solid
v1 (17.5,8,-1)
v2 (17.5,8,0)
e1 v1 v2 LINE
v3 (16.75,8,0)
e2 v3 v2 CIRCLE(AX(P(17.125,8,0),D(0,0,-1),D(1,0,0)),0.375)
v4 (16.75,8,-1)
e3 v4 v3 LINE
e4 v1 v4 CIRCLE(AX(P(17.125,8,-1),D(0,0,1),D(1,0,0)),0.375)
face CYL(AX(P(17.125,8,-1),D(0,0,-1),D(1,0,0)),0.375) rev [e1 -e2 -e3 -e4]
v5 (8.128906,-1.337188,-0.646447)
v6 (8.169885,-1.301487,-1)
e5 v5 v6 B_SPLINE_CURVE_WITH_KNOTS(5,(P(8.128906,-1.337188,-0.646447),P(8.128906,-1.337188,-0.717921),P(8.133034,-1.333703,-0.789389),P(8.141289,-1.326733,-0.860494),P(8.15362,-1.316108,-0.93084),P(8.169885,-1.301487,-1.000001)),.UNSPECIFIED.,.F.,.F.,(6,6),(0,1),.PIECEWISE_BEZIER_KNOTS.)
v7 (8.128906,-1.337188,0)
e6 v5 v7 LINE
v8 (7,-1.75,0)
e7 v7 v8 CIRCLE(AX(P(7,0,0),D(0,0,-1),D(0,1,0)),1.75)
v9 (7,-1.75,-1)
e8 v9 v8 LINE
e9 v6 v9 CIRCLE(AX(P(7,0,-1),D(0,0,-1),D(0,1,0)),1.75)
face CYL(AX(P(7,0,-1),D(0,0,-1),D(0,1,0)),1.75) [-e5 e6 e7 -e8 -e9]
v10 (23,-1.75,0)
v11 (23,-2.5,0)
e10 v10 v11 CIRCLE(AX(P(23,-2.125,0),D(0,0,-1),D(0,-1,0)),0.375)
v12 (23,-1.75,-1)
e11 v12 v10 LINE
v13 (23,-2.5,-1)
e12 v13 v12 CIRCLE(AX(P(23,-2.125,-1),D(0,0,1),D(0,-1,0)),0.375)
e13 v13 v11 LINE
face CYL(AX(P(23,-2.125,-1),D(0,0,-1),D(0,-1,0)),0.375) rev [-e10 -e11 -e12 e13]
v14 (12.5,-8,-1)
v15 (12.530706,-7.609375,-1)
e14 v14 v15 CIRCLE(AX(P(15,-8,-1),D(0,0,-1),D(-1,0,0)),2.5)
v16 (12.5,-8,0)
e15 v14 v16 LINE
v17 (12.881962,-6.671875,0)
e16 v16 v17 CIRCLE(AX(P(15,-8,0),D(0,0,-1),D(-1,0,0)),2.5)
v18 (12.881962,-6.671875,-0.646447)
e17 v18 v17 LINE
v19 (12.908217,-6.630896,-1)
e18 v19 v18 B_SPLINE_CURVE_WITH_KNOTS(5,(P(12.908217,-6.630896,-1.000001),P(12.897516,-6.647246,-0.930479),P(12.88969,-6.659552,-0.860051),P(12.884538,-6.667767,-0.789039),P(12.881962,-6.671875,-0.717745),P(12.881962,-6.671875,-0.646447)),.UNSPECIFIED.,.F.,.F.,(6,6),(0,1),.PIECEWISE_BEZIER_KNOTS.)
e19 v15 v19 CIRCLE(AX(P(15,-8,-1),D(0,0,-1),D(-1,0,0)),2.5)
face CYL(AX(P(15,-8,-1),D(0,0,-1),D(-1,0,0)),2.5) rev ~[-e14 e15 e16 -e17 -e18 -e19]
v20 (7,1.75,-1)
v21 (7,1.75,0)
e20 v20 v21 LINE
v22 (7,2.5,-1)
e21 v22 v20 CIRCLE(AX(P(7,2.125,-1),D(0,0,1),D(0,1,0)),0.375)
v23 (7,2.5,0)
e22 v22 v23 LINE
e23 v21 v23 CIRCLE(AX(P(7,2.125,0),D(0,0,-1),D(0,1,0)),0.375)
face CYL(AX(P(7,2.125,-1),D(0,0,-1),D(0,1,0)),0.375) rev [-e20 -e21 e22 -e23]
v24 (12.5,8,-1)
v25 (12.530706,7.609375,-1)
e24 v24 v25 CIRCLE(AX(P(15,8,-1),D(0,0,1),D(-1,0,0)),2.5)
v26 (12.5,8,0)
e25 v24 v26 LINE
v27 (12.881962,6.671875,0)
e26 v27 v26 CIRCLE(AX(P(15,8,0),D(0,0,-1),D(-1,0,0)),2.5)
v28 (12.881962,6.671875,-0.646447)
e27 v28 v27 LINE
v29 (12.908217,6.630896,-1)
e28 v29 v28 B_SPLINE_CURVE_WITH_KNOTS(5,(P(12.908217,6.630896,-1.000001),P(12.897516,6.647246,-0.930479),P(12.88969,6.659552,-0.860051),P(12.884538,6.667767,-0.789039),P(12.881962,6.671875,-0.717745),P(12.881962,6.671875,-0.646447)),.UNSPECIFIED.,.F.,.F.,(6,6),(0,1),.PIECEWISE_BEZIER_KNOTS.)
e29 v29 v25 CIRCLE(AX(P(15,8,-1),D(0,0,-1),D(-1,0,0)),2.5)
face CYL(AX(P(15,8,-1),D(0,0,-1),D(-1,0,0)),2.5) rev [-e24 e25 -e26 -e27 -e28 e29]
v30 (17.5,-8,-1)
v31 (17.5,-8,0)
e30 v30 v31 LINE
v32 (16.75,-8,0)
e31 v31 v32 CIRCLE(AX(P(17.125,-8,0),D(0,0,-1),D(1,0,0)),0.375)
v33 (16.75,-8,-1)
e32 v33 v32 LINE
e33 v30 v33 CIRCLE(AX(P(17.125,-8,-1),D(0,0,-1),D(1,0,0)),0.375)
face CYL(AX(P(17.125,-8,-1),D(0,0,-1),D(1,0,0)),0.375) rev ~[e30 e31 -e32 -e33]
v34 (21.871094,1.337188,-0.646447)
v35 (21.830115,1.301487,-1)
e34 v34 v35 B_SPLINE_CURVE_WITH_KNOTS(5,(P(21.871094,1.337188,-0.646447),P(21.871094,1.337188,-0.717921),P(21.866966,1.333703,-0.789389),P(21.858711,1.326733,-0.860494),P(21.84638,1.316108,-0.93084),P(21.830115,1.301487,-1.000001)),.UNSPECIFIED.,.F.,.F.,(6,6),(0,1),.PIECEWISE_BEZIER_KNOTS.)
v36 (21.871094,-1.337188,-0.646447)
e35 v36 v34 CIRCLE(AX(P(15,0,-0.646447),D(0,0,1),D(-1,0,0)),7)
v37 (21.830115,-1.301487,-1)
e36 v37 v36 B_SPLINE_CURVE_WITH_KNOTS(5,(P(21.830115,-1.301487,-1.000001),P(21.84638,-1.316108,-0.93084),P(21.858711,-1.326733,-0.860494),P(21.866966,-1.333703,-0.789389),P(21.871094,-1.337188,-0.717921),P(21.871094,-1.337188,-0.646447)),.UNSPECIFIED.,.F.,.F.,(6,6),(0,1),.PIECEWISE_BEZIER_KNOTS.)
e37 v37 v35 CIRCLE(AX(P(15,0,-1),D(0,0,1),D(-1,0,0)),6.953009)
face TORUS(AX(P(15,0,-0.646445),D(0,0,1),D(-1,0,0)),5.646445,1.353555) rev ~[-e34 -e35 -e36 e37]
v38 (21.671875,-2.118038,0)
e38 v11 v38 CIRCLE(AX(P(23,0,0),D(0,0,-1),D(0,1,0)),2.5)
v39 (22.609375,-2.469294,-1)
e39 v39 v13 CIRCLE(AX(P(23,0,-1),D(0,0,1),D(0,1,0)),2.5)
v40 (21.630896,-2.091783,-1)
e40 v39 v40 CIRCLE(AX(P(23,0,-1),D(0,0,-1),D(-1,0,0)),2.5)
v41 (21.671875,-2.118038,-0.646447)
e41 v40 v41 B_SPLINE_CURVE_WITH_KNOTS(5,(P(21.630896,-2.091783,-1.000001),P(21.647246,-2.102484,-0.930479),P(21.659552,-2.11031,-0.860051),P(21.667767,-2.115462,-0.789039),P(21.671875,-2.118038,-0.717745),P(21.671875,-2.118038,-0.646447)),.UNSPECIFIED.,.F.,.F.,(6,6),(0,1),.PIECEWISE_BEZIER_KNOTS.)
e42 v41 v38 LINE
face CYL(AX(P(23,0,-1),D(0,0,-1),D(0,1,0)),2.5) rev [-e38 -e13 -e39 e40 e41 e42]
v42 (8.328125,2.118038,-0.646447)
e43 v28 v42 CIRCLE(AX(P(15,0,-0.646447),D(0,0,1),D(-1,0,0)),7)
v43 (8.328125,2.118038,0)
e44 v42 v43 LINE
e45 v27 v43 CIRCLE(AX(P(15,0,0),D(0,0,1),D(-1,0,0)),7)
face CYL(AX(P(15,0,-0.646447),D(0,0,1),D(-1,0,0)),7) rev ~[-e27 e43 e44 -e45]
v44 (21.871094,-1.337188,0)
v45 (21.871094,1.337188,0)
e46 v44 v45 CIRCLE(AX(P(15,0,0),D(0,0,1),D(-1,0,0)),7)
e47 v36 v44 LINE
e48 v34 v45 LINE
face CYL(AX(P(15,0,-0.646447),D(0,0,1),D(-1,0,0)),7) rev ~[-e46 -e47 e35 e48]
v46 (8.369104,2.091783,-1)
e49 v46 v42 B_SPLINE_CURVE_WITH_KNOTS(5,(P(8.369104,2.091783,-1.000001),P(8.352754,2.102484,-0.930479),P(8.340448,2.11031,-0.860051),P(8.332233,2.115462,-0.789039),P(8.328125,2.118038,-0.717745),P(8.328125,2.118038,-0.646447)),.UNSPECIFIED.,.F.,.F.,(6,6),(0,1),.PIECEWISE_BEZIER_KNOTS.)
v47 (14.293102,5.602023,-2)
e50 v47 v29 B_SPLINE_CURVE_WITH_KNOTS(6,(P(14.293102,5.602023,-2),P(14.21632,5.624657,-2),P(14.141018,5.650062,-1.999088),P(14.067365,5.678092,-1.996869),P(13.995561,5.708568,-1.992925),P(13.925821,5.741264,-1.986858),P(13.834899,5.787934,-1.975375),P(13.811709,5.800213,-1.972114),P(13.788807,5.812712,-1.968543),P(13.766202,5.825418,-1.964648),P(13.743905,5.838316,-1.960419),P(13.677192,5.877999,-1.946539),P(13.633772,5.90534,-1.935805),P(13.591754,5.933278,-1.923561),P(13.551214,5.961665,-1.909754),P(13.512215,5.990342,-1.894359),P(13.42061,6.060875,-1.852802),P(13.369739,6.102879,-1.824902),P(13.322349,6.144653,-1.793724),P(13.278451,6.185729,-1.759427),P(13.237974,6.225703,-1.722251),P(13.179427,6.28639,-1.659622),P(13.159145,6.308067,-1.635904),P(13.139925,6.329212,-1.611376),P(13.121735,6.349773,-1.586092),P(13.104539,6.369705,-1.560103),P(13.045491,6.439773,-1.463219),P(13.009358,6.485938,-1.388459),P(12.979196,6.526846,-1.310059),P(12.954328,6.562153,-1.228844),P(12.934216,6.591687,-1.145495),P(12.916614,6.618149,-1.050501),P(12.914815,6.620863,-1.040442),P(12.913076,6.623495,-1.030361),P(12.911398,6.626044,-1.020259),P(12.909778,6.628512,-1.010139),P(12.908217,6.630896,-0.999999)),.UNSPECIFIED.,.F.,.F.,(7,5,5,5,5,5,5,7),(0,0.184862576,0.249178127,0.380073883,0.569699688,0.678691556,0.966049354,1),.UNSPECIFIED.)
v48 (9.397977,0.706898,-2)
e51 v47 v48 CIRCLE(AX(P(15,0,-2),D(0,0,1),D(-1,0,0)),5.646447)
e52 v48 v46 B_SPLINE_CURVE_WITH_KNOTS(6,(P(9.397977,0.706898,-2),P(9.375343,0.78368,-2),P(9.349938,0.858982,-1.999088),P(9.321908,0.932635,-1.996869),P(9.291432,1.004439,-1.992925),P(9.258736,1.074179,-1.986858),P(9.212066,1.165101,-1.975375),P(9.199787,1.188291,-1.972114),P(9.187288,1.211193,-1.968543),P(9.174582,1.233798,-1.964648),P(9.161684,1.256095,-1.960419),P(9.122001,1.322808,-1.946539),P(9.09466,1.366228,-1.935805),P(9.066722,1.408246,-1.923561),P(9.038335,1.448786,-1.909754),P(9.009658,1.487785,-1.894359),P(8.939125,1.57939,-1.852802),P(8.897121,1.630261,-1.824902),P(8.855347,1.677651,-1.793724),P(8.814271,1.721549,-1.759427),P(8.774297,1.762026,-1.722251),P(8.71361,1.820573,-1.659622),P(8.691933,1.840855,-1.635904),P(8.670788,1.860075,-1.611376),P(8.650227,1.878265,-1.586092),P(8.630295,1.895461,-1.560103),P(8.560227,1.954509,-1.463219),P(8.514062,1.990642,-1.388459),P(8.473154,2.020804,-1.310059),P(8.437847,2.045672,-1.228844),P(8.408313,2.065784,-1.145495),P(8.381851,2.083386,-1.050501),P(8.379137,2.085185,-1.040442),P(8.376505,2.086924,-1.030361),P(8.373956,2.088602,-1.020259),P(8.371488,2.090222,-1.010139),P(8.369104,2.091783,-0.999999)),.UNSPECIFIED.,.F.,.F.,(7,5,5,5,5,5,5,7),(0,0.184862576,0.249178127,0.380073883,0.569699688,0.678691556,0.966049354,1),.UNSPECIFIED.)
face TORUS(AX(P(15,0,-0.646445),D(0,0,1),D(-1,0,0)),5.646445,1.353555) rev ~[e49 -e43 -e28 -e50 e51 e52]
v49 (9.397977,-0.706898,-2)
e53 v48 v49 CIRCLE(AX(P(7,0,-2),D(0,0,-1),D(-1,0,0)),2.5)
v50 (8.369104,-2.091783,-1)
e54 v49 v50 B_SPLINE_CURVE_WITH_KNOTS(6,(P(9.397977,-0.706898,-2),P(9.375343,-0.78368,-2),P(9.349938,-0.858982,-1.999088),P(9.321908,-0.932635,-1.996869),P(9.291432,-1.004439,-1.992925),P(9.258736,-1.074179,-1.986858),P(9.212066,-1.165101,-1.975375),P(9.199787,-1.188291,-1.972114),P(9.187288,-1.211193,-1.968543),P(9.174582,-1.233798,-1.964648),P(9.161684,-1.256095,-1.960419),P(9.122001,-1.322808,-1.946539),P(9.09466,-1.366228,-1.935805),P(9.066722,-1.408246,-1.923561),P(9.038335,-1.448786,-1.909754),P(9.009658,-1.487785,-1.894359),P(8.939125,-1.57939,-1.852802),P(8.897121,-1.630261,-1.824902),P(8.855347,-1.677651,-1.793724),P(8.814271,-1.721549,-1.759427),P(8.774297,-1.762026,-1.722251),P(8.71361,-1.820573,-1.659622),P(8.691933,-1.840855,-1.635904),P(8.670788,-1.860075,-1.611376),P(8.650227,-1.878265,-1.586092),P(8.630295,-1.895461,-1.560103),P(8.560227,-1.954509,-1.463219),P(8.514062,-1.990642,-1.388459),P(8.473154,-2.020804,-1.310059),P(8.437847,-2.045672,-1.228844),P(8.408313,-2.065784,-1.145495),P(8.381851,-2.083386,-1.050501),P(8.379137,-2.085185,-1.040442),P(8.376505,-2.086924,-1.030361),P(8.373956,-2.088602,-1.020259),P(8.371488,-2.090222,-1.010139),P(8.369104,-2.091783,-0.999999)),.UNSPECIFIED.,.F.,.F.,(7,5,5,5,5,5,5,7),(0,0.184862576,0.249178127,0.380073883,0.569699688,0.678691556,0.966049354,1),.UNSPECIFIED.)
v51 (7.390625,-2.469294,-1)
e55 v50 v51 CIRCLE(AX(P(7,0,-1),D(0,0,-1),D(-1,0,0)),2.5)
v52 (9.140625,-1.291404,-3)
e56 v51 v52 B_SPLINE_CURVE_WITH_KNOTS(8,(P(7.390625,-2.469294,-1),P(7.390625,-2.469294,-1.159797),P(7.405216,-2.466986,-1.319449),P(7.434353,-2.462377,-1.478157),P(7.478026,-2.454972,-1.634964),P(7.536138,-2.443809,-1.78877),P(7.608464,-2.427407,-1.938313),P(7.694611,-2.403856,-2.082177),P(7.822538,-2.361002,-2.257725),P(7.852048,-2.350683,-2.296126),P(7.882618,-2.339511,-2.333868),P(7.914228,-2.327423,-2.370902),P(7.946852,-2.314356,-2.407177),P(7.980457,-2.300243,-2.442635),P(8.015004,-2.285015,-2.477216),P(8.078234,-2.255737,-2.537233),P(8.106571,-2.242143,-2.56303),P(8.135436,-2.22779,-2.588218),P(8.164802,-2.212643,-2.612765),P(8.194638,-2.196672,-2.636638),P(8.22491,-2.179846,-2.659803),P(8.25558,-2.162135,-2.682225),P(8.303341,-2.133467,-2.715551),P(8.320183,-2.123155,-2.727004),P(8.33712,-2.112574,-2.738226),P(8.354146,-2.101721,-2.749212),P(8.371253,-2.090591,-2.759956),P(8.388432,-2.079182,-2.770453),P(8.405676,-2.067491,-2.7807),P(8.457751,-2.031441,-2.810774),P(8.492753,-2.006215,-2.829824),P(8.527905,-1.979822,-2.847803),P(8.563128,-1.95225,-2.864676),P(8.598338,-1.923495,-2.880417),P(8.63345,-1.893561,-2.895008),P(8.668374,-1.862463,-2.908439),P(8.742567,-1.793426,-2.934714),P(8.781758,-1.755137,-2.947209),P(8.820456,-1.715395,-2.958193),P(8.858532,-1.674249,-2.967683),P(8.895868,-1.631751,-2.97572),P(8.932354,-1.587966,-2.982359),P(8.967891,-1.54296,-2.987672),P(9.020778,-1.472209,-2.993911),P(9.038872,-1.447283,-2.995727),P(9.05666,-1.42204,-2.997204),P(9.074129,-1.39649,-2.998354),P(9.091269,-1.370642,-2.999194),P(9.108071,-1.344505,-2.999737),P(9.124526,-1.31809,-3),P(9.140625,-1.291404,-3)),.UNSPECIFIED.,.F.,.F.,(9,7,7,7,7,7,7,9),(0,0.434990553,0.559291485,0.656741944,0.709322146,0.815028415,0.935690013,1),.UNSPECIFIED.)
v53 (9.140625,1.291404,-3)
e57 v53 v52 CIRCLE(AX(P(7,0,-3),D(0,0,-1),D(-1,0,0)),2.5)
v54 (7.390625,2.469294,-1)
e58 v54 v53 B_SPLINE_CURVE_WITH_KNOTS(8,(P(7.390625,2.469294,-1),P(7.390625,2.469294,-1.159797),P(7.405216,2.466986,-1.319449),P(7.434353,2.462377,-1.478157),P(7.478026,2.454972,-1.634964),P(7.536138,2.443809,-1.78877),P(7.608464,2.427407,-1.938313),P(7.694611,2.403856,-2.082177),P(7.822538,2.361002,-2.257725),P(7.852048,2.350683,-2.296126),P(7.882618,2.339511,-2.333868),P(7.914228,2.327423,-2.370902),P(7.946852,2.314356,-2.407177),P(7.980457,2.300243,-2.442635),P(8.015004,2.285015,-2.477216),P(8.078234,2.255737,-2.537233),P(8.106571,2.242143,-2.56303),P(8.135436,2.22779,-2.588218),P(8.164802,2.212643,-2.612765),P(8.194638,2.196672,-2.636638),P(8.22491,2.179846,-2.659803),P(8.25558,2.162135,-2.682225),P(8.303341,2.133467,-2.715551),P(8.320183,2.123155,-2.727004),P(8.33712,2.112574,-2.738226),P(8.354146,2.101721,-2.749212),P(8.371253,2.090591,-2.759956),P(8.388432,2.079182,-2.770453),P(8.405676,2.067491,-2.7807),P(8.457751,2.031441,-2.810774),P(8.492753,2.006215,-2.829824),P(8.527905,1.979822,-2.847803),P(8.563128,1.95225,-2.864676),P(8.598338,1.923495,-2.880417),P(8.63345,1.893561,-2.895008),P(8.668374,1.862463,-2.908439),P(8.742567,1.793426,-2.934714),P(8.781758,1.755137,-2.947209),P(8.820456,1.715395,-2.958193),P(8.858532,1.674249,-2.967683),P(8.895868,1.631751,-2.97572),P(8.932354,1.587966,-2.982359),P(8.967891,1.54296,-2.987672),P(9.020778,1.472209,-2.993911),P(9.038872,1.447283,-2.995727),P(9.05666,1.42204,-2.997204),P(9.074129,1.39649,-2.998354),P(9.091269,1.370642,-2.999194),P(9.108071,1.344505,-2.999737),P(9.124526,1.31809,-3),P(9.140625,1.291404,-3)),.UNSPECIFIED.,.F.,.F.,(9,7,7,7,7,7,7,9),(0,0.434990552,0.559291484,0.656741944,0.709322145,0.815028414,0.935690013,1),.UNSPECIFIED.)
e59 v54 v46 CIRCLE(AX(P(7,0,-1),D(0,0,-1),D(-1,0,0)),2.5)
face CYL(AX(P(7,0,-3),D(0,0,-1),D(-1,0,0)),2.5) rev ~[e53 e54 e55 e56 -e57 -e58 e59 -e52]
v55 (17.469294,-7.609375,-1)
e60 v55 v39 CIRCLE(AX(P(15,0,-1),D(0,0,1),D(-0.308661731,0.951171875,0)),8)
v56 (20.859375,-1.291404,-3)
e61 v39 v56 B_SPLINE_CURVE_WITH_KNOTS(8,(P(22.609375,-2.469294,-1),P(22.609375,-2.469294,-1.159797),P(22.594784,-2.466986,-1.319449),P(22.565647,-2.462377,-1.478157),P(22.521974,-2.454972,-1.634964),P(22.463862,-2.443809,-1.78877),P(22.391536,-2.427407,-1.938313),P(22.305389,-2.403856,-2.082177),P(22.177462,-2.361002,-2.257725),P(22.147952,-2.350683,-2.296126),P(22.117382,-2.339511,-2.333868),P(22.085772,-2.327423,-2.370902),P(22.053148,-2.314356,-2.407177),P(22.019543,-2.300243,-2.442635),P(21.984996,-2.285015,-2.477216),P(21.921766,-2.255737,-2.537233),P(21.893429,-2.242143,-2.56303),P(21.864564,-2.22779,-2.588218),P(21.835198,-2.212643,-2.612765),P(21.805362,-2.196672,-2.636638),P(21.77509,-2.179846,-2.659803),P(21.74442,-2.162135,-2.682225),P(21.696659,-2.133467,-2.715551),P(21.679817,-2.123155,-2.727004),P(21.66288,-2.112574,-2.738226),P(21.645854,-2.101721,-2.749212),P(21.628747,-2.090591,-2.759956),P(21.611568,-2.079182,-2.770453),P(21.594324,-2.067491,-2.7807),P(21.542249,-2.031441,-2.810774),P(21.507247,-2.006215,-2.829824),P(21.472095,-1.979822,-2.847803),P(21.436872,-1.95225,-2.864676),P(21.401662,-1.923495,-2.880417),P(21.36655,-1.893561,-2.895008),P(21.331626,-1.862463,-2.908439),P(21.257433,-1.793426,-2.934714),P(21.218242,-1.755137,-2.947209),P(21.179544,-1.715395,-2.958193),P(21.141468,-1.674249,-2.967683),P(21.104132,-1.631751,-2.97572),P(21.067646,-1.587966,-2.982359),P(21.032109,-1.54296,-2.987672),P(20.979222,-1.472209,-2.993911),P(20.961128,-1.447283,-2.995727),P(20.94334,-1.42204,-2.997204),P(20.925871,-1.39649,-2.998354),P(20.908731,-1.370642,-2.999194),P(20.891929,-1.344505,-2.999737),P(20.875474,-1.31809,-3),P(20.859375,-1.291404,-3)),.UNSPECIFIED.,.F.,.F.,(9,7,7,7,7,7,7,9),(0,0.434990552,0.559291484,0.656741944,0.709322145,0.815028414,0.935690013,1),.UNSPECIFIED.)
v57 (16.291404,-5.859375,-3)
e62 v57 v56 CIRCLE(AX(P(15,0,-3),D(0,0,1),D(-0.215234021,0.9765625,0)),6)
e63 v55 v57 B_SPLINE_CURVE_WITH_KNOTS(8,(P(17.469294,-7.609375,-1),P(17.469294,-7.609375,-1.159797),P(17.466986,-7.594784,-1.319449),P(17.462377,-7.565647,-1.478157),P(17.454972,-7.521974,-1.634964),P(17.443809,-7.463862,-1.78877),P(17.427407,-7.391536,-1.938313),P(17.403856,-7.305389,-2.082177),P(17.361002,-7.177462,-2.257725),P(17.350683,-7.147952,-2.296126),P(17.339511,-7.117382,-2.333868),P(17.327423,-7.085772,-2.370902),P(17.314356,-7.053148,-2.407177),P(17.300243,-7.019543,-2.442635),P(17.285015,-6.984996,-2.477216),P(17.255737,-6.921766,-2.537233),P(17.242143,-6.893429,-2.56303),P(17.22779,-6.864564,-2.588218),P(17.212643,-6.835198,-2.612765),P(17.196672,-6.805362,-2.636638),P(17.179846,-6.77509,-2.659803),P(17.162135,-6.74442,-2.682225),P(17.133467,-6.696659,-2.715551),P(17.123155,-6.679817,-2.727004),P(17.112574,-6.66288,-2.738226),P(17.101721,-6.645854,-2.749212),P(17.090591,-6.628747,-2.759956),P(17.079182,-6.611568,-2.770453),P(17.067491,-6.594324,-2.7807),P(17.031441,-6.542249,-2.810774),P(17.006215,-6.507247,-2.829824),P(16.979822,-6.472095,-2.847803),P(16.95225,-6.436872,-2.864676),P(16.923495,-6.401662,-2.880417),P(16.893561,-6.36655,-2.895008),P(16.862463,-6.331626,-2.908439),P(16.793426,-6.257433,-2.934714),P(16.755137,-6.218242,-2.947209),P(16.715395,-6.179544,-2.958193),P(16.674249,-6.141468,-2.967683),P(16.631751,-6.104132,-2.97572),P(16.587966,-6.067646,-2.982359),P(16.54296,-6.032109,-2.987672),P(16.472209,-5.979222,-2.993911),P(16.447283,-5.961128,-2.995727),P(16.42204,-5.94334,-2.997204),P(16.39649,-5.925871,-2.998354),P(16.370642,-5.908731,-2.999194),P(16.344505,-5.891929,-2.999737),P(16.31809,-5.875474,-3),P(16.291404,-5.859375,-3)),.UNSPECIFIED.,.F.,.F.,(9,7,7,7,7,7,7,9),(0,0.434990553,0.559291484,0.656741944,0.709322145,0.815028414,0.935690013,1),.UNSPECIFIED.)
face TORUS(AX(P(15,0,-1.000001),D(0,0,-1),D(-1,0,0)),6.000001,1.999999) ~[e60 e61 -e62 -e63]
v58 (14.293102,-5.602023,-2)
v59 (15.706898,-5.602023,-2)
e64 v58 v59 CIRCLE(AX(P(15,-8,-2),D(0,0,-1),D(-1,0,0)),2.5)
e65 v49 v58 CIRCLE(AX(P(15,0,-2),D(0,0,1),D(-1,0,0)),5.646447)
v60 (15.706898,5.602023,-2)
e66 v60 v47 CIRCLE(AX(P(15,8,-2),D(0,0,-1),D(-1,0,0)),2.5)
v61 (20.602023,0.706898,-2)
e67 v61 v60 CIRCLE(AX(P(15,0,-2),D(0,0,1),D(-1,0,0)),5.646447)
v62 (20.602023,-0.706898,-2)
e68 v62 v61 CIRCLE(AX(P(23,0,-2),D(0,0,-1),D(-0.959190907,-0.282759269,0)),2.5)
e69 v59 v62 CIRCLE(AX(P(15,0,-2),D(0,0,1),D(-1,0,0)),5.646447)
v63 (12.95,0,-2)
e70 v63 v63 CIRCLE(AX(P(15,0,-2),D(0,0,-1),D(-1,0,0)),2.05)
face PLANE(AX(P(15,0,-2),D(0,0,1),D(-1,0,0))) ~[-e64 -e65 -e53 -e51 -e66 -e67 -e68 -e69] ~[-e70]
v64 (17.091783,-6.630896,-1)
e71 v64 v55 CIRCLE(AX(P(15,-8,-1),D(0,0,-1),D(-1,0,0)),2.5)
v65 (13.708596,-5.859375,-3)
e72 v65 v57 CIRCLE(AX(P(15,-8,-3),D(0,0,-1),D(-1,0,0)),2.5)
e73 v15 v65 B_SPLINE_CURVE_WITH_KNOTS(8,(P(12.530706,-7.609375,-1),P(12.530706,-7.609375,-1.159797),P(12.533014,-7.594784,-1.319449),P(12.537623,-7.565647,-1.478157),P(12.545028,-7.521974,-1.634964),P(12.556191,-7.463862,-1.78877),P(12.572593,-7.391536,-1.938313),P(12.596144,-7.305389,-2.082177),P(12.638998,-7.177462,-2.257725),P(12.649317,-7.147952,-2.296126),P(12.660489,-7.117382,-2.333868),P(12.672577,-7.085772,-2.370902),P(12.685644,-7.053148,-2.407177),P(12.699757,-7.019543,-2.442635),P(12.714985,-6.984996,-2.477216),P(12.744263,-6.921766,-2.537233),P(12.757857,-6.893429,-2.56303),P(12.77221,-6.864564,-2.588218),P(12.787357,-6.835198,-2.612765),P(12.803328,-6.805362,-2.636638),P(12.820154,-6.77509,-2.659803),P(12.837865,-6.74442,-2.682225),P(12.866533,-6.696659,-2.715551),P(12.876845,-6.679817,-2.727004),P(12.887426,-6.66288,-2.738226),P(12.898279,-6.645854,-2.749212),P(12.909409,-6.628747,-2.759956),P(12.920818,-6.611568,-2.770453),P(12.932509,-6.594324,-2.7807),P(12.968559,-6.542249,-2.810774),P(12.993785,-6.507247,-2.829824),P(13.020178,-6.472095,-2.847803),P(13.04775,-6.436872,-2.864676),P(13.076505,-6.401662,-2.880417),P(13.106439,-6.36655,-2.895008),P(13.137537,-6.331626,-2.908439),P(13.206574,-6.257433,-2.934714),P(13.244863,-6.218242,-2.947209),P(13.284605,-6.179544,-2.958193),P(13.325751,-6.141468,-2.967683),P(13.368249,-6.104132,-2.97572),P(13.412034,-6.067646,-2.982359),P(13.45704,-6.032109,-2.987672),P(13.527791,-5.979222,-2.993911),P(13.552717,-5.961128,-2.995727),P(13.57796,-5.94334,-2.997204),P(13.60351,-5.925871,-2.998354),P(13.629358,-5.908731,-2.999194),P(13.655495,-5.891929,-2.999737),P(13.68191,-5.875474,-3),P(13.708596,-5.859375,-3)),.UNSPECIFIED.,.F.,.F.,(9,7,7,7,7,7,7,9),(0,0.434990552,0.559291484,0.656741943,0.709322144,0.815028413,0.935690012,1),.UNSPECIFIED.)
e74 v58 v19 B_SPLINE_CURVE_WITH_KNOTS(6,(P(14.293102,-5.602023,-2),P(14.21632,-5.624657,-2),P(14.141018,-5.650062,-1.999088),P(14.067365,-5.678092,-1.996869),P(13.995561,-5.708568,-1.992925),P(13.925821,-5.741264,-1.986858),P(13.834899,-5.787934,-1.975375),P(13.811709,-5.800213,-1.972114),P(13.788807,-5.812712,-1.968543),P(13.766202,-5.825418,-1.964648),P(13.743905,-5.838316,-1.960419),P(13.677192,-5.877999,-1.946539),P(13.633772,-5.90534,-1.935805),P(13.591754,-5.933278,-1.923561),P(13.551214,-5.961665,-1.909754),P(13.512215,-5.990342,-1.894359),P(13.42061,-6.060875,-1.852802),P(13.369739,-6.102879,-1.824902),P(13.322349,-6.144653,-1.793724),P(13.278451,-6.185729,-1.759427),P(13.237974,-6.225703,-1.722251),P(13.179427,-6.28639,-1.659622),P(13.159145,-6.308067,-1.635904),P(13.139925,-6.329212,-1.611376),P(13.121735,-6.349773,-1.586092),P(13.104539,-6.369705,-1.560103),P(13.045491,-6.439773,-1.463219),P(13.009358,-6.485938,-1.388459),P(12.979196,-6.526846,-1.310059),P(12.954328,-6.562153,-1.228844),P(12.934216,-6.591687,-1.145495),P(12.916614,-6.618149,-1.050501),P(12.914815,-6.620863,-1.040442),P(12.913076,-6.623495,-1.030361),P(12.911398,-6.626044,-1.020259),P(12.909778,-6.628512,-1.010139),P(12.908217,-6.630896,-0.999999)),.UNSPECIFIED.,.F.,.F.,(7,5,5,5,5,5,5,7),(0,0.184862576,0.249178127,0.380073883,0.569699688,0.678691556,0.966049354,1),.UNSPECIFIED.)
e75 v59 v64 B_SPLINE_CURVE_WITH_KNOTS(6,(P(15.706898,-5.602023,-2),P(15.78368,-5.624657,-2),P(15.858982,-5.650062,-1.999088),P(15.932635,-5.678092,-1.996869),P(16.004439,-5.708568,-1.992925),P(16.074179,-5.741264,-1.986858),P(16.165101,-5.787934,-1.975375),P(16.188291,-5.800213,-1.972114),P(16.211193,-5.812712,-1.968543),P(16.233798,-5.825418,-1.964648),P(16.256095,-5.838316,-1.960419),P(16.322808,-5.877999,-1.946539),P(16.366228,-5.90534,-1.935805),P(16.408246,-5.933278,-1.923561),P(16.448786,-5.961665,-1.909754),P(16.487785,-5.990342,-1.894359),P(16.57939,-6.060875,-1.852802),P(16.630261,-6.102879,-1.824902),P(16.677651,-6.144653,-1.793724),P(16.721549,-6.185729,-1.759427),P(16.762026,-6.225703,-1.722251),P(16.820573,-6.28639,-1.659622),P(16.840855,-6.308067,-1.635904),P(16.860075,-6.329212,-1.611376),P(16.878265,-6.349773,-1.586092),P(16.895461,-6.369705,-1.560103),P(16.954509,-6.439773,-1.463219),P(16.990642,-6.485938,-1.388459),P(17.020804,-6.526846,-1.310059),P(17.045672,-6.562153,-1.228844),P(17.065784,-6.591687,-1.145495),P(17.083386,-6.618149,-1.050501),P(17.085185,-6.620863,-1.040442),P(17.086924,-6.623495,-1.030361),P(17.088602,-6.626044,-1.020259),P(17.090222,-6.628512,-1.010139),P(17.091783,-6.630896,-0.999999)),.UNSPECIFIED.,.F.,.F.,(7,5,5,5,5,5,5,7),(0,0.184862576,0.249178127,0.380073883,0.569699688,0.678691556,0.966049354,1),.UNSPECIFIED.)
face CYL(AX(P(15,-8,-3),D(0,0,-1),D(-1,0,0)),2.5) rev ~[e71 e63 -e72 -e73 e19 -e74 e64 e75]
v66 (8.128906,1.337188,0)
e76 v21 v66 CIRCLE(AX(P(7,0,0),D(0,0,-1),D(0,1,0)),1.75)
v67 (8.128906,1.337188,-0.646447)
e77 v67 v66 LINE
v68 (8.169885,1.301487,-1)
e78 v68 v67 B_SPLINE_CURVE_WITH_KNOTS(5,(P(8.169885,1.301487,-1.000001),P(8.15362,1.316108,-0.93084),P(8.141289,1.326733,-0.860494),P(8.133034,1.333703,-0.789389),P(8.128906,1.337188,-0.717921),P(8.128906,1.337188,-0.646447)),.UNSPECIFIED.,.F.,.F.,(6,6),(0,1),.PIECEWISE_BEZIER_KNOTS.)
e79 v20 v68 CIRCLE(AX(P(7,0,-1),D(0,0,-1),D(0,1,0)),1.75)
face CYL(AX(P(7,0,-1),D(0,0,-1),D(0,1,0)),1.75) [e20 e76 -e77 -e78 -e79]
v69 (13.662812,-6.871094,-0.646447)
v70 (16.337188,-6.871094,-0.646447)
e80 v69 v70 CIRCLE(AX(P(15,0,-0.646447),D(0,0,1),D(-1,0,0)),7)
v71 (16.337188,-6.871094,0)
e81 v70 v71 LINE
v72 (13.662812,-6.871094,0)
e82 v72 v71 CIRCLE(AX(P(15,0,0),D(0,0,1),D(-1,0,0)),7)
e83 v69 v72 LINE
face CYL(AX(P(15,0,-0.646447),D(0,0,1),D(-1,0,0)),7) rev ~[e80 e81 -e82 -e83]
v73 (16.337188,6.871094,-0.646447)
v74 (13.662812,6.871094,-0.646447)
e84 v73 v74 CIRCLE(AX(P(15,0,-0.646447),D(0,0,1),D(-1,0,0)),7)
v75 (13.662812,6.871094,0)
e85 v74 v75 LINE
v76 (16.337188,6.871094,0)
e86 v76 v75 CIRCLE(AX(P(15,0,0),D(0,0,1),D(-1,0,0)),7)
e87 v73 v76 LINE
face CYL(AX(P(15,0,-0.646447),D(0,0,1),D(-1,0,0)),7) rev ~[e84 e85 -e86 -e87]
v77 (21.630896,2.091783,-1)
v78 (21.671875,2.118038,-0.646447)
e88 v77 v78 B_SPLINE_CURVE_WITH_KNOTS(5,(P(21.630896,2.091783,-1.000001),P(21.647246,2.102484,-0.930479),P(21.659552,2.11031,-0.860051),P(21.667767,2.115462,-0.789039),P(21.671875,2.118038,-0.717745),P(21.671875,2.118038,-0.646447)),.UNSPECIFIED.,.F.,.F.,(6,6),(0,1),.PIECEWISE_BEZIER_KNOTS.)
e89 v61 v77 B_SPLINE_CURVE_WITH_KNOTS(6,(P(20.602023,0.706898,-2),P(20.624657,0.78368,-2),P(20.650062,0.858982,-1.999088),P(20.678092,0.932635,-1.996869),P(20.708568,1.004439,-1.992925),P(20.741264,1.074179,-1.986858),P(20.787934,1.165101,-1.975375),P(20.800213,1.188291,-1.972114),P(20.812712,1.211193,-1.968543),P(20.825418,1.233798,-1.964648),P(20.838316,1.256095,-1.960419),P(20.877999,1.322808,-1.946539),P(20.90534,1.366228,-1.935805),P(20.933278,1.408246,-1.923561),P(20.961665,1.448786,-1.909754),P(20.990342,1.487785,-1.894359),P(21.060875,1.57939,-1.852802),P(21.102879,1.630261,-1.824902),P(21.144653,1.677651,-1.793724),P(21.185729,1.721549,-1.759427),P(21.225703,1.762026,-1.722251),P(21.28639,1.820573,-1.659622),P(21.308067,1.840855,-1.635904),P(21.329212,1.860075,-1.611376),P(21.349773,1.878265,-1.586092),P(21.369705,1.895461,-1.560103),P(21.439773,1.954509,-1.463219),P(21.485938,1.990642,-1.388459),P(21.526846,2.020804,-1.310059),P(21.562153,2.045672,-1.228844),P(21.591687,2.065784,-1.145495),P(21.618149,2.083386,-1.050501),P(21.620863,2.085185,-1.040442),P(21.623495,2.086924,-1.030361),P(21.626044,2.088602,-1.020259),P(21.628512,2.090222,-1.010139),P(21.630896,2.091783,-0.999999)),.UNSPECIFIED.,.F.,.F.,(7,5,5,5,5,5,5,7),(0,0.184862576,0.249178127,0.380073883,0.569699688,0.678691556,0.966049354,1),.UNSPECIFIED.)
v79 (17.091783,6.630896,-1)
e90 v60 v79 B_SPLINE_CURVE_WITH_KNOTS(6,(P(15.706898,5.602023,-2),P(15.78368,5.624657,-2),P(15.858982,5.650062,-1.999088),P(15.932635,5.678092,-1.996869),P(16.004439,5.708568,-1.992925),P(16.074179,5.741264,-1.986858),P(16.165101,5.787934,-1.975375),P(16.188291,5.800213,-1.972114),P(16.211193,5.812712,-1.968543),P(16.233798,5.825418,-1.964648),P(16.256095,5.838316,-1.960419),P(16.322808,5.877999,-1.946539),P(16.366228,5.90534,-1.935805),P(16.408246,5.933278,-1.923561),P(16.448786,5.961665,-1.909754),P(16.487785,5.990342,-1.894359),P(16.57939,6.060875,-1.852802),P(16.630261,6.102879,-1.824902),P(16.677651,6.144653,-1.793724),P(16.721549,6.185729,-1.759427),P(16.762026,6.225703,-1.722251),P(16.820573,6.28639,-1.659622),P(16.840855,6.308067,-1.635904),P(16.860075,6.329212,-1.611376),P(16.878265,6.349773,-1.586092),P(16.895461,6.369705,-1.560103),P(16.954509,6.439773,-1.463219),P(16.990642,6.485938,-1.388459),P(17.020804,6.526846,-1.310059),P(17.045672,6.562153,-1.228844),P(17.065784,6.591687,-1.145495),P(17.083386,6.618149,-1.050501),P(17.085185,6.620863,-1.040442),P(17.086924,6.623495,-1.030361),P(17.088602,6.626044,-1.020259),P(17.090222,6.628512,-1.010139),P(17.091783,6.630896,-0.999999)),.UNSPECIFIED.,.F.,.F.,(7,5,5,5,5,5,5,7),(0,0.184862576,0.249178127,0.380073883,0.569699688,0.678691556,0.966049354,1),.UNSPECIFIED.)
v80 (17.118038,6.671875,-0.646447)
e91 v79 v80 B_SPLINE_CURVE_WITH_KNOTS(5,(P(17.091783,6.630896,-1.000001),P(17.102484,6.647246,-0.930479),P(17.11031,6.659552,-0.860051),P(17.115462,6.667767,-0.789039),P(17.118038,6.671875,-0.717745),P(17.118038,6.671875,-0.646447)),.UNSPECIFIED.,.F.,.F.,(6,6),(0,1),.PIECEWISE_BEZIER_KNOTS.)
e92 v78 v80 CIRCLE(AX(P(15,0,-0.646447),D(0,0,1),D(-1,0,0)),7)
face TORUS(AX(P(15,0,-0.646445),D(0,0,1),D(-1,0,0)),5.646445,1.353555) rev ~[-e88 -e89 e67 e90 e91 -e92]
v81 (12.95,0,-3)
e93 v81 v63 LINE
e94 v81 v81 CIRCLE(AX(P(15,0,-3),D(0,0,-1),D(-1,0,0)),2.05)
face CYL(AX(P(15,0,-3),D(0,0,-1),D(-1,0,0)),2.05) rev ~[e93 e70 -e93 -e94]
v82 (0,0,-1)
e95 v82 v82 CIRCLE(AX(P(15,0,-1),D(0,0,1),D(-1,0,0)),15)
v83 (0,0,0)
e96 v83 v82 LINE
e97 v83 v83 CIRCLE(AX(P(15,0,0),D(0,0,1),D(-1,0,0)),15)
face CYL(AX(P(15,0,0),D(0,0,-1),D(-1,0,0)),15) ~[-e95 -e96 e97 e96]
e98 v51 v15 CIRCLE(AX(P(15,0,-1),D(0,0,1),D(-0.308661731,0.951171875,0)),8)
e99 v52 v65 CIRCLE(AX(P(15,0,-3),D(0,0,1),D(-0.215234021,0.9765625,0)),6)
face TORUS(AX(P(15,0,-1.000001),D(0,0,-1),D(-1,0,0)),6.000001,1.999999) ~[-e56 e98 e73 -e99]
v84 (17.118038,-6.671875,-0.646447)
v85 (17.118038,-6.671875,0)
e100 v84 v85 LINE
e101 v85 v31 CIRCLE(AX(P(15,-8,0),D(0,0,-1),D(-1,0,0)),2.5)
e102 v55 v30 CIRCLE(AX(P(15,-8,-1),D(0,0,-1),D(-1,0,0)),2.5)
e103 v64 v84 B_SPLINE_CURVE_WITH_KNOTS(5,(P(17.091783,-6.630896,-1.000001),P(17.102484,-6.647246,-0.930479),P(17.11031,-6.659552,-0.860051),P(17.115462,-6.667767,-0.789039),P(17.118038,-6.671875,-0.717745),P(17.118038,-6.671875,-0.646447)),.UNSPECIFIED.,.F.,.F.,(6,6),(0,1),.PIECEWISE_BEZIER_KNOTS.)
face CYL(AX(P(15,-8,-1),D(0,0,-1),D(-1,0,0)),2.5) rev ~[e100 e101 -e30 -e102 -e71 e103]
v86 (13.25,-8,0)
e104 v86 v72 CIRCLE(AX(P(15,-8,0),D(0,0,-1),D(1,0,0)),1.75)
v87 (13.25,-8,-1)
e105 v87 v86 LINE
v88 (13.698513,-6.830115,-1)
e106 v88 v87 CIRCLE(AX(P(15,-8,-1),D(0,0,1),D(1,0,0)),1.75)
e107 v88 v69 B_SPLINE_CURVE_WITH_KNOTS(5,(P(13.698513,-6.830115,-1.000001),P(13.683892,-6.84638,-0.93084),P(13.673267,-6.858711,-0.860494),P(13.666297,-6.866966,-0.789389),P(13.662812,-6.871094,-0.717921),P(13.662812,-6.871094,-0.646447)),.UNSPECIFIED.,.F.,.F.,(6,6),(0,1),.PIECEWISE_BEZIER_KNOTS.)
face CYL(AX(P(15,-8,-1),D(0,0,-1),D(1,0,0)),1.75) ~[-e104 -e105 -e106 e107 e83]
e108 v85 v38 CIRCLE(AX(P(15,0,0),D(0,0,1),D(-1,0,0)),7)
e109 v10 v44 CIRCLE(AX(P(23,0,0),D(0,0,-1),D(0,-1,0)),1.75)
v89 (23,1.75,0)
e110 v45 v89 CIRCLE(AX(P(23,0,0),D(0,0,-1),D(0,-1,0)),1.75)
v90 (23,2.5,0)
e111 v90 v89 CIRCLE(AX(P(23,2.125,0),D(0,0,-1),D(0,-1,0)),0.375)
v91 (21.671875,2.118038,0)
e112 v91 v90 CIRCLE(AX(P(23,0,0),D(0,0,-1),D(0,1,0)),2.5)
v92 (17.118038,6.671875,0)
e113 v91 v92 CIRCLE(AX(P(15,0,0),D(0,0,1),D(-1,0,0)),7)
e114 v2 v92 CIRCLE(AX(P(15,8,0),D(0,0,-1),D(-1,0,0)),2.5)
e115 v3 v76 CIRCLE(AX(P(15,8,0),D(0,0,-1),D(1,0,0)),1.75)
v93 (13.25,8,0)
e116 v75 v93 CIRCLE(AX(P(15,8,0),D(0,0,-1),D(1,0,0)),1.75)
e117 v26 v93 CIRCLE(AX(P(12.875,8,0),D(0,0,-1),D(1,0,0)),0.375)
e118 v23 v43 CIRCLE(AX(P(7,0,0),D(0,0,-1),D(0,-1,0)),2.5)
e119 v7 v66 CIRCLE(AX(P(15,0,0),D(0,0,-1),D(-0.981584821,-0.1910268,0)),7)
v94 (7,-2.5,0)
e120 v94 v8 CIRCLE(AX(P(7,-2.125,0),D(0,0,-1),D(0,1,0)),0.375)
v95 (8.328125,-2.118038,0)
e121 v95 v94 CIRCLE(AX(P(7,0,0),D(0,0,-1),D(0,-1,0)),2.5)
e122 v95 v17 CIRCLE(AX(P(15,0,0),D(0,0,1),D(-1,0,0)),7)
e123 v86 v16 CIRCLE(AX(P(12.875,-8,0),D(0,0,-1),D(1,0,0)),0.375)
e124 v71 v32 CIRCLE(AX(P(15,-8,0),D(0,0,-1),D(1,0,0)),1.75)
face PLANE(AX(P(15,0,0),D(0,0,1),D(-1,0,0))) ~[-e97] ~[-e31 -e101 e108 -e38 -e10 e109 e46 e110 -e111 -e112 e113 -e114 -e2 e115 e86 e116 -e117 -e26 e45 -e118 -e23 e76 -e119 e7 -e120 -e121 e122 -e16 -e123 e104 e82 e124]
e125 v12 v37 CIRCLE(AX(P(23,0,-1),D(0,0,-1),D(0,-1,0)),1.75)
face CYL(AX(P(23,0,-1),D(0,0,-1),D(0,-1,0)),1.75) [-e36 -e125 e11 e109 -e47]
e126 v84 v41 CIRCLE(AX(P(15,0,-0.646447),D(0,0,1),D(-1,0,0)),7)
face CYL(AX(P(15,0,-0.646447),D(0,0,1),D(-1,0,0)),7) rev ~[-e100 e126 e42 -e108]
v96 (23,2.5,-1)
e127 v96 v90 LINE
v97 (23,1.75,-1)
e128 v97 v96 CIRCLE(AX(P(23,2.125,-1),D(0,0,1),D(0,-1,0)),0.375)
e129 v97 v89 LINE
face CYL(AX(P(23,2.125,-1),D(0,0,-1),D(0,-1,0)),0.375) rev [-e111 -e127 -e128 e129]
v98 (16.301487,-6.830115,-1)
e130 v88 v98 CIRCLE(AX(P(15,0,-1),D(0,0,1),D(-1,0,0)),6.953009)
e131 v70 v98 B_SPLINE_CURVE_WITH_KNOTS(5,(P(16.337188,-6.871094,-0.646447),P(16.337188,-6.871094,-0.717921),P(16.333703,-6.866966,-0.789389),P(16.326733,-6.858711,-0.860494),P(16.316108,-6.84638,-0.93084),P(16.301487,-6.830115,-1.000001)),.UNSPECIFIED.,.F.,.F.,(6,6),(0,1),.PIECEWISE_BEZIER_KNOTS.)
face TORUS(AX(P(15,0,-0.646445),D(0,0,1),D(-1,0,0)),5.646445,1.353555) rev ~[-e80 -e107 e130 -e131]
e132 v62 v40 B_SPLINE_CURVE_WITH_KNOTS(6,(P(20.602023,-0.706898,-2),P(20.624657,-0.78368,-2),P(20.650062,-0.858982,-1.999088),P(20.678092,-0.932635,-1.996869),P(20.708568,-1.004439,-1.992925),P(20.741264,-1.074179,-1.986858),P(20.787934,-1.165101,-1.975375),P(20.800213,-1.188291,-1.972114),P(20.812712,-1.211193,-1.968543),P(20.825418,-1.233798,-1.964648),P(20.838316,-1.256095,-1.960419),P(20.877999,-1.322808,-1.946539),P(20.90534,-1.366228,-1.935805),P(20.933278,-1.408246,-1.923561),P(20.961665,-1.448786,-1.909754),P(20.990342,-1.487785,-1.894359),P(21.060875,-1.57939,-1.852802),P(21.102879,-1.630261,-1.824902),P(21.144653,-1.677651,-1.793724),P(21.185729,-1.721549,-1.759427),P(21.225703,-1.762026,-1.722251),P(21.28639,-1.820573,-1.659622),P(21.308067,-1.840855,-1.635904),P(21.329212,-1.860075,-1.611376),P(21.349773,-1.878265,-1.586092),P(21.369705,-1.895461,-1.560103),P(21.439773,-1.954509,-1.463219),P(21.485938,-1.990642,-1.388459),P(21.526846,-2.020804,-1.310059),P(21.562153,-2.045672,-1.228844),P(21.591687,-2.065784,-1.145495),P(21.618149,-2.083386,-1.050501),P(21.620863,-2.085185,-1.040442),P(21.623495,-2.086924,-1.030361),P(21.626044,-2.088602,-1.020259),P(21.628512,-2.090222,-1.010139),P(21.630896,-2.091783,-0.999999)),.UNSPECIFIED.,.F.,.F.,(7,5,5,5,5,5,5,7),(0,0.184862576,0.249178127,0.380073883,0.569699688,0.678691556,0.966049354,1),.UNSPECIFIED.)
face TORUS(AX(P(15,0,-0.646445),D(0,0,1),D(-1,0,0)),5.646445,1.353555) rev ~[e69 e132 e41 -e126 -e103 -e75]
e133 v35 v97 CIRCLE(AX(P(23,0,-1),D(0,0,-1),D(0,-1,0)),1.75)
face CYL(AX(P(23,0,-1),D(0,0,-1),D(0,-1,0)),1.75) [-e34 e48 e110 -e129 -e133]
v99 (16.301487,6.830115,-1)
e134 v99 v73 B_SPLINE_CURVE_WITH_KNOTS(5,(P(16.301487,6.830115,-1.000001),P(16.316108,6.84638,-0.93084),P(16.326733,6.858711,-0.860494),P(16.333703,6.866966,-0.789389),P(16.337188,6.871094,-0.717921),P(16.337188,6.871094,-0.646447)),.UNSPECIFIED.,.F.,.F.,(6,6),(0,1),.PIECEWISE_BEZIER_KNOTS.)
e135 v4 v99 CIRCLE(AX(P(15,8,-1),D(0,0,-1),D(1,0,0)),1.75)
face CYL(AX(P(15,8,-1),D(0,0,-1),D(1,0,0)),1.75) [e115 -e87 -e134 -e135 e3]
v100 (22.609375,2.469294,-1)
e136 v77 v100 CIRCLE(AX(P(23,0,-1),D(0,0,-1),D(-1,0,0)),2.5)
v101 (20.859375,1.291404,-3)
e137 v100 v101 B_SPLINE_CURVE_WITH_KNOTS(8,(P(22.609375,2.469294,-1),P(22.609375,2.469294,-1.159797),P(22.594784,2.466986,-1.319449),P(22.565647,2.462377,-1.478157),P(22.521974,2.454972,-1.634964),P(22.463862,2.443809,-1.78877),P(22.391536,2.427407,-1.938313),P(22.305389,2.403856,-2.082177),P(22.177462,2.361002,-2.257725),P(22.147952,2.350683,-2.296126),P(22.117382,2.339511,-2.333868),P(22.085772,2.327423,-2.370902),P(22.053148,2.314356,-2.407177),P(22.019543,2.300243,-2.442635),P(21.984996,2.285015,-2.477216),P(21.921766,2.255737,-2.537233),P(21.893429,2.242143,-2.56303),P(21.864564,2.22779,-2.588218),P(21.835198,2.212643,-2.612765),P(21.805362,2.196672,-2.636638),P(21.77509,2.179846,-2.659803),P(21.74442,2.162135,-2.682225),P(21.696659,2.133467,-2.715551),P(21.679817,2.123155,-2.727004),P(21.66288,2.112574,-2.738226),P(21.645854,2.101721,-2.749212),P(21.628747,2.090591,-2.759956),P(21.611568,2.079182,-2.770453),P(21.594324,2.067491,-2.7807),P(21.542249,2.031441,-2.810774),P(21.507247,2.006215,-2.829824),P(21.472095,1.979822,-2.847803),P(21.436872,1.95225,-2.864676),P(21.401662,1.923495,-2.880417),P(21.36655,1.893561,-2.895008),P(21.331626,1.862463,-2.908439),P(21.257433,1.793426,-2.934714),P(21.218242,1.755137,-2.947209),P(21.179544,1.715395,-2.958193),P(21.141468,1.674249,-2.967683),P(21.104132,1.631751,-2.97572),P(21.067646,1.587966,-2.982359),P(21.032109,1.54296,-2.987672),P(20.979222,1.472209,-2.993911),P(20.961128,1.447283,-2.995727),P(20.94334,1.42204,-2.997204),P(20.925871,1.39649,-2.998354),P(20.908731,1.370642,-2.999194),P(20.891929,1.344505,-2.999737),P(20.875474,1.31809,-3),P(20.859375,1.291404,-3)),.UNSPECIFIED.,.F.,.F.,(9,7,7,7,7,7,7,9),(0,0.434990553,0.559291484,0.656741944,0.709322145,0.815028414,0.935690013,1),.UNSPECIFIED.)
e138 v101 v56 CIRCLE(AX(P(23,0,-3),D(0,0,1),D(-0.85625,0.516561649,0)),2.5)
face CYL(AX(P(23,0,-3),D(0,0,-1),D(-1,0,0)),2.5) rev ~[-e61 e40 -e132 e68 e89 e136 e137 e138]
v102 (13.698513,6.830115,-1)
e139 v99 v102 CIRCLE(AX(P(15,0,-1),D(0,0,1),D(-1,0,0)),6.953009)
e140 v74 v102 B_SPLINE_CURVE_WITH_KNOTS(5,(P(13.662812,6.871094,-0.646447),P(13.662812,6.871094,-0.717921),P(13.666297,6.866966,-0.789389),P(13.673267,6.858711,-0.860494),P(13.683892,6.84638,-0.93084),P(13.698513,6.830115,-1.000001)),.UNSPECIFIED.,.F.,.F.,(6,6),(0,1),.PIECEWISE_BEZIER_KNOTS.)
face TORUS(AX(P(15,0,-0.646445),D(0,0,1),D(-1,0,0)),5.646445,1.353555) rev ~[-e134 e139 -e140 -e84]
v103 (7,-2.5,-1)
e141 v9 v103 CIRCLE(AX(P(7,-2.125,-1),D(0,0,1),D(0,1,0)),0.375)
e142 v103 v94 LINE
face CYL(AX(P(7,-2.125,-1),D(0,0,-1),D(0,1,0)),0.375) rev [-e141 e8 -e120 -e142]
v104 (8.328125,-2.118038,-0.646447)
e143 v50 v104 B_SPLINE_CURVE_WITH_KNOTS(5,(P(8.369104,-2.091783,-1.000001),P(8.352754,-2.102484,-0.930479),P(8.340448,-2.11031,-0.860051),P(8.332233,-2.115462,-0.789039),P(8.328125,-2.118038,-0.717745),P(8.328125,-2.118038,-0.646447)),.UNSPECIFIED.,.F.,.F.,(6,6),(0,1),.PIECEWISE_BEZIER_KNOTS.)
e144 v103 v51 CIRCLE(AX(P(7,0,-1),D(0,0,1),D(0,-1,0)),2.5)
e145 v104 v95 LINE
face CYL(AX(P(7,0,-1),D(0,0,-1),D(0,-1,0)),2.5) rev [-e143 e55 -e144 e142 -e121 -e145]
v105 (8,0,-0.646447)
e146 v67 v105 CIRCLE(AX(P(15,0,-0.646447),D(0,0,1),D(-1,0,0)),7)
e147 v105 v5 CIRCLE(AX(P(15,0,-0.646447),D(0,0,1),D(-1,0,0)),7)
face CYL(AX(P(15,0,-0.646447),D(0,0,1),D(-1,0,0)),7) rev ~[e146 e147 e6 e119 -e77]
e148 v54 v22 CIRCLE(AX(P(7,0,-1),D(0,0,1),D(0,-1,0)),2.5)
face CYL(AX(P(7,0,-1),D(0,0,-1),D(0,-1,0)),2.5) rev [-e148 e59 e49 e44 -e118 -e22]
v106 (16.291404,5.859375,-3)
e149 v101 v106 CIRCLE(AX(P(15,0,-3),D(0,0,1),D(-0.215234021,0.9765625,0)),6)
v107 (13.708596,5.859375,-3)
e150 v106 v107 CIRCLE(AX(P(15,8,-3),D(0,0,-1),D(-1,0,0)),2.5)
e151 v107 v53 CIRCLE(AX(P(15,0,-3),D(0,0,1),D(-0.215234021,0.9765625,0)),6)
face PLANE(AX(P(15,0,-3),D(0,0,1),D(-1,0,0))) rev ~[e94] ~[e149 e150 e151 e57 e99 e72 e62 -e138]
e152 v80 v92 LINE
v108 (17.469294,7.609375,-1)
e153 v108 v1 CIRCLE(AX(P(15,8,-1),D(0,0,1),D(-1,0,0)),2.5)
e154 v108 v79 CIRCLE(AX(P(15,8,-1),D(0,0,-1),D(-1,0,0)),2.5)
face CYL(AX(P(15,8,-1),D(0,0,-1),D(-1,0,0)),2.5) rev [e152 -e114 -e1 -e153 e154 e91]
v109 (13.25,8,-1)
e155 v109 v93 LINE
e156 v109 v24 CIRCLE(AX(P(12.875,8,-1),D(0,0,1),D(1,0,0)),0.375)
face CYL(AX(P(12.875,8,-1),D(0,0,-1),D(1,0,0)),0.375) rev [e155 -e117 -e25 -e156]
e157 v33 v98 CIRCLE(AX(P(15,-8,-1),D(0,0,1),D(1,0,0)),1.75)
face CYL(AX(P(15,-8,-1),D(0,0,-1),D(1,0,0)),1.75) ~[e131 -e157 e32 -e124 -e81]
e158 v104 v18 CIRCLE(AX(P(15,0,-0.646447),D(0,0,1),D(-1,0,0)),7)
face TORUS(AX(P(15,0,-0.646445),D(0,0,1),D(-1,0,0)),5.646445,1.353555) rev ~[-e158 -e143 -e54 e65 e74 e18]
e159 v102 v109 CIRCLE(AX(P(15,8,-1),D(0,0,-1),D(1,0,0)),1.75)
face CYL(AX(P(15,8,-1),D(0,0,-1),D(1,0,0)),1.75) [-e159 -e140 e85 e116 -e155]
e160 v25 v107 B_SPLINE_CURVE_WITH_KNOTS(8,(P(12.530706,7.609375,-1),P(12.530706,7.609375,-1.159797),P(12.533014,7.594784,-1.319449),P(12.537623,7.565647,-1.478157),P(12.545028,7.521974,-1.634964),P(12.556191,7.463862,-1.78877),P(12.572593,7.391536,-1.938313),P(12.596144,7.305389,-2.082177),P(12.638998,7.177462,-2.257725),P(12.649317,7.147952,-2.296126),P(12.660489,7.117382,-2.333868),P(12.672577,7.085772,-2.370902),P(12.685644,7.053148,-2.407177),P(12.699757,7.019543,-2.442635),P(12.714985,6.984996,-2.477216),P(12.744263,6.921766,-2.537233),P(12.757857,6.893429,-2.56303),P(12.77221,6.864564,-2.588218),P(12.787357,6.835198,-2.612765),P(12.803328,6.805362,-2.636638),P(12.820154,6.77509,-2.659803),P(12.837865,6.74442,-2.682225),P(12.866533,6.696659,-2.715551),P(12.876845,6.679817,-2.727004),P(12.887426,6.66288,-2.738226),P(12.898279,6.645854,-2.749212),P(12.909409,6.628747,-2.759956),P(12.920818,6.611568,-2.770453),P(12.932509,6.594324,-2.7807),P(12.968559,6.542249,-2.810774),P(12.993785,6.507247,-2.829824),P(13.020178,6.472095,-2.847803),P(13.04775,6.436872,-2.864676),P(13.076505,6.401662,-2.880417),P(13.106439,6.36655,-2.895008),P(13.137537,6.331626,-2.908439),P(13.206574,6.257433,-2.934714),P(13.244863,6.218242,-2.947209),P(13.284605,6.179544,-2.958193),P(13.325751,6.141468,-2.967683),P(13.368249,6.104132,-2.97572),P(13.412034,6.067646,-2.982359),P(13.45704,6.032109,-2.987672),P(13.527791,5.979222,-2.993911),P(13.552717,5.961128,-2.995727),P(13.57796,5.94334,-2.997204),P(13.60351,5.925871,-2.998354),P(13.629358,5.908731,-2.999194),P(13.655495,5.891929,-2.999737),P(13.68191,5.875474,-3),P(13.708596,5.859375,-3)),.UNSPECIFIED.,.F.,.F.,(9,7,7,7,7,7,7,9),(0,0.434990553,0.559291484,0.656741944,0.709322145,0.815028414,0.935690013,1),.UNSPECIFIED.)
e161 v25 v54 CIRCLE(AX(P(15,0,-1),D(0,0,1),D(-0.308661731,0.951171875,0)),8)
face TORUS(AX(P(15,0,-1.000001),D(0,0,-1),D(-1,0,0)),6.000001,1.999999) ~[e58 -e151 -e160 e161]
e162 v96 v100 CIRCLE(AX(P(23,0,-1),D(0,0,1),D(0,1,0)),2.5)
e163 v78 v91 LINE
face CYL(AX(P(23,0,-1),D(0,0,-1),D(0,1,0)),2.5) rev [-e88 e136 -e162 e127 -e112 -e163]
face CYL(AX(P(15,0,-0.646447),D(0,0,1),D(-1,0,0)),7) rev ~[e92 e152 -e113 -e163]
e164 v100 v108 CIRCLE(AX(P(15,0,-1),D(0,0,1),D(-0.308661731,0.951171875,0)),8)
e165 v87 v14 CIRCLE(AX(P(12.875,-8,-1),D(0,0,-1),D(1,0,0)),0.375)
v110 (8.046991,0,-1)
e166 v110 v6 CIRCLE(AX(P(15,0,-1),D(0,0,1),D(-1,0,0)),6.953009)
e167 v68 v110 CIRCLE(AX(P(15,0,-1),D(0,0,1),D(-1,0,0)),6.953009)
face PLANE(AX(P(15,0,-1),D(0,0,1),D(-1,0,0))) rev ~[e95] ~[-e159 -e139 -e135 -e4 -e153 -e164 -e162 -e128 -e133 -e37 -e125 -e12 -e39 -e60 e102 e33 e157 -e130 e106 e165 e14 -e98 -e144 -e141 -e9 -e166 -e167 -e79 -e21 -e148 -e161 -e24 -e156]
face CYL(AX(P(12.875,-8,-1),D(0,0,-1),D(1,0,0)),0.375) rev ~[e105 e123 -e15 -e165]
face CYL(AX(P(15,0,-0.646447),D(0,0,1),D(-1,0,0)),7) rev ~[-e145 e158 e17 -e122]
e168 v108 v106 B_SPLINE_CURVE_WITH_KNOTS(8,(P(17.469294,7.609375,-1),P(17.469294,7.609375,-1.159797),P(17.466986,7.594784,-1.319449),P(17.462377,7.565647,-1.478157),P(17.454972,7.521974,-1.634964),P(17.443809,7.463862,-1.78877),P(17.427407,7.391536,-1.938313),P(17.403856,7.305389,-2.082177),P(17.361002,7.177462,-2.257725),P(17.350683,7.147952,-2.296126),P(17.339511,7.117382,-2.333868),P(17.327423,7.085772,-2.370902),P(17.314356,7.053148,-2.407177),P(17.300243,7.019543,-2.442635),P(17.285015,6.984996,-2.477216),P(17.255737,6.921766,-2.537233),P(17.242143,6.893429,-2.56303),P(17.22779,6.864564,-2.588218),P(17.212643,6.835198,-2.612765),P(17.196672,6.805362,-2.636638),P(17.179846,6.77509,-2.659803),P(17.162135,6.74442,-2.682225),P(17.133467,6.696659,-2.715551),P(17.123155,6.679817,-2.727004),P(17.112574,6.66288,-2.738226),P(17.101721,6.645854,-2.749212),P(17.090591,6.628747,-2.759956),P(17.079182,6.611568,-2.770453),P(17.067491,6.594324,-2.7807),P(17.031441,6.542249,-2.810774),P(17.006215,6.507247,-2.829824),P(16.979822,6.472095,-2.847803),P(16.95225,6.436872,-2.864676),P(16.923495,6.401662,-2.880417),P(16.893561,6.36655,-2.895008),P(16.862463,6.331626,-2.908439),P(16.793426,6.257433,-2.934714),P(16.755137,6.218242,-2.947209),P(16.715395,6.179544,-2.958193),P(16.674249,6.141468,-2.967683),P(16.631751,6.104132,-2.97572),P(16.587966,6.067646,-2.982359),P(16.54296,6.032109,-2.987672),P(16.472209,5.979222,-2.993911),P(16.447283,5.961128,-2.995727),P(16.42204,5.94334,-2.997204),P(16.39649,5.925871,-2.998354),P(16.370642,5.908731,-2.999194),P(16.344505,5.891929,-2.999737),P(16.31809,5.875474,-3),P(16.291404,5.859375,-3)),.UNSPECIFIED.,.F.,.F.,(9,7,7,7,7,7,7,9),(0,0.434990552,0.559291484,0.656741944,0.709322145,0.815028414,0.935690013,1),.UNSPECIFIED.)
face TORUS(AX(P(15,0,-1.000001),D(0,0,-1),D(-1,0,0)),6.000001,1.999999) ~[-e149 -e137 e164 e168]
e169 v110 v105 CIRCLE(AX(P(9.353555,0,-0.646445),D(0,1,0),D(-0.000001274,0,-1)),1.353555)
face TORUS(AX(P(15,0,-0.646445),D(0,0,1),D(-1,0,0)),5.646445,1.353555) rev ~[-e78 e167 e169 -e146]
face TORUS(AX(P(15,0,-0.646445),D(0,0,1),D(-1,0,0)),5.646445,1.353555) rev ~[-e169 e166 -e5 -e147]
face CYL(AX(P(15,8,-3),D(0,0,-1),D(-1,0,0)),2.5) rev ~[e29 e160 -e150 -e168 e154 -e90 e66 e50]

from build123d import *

# Parameters (mm, degrees)
CUT_EXTRUDE1_REACH = 35.675
SKETCH2_R          = 2.5
CUT_EXTRUDE2_DEPTH = 10
SKETCH4_R          = 2.05
CUT_EXTRUDE3_DEPTH = 10


with BuildPart() as part:
    # Sketch1 → Revolve1 (revolve)
    with BuildSketch(Plane(origin=(0, 0, 0), x_dir=(1, 0, 0), z_dir=(0, 1, 0))):
        with BuildLine():
            Line((0, 0), (0, 1))
            Line((0, 1), (7, 1))
            ThreePointArc((7, 1), (7.585786, 2.414214), (9, 3))
            Line((9, 3), (15, 3))
            Line((15, 3), (15, 2))
            Line((15, 2), (9.353553, 2))
            ThreePointArc((9.353553, 2), (8.396447, 1.603553), (8, 0.646447))
            Line((8, 0.646447), (8, 0))
            Line((8, 0), (0, 0))
        make_face()
    revolve(axis=Axis((15, 0, -3), (0, 0, 1)))

    # Cut-Extrude1: up to this face of the body (flat: up to its plane)
    cut_extrude1_end = Plane(part.part.faces().sort_by_distance((29.575736, 0, -1))[0])
    # Sketch2 → Cut-Extrude1 (cut, up to the picked face)
    with BuildSketch(Plane(origin=(0, 0, -3), x_dir=(-1, 0, 0), z_dir=(0, 0, -1)), mode=Mode.PRIVATE) as cut_extrude1_sk1:
        with Locations((-15, 8)):
            Circle(SKETCH2_R)
    cut_extrude1_tool1 = split(extrude(cut_extrude1_sk1.sketch, amount=-CUT_EXTRUDE1_REACH, mode=Mode.PRIVATE), bisect_by=cut_extrude1_end, keep=Keep.BOTH, mode=Mode.PRIVATE)
    # Sketch2 → Cut-Extrude1 (cut, up to the picked face)
    with BuildSketch(Plane(origin=(0, 0, -3), x_dir=(-1, 0, 0), z_dir=(0, 0, -1)), mode=Mode.PRIVATE) as cut_extrude1_sk2:
        with Locations((-7, 0)):
            Circle(SKETCH2_R)
    cut_extrude1_tool2 = split(extrude(cut_extrude1_sk2.sketch, amount=-CUT_EXTRUDE1_REACH, mode=Mode.PRIVATE), bisect_by=cut_extrude1_end, keep=Keep.BOTH, mode=Mode.PRIVATE)
    # Sketch2 → Cut-Extrude1 (cut, up to the picked face)
    with BuildSketch(Plane(origin=(0, 0, -3), x_dir=(-1, 0, 0), z_dir=(0, 0, -1)), mode=Mode.PRIVATE) as cut_extrude1_sk3:
        with Locations((-15, -8)):
            Circle(SKETCH2_R)
    cut_extrude1_tool3 = split(extrude(cut_extrude1_sk3.sketch, amount=-CUT_EXTRUDE1_REACH, mode=Mode.PRIVATE), bisect_by=cut_extrude1_end, keep=Keep.BOTH, mode=Mode.PRIVATE)
    # Sketch2 → Cut-Extrude1 (cut, up to the picked face)
    with BuildSketch(Plane(origin=(0, 0, -3), x_dir=(-1, 0, 0), z_dir=(0, 0, -1)), mode=Mode.PRIVATE) as cut_extrude1_sk4:
        with Locations((-23, 0)):
            Circle(SKETCH2_R)
    cut_extrude1_tool4 = split(extrude(cut_extrude1_sk4.sketch, amount=-CUT_EXTRUDE1_REACH, mode=Mode.PRIVATE), bisect_by=cut_extrude1_end, keep=Keep.BOTH, mode=Mode.PRIVATE)
    add(cut_extrude1_tool1.solids().sort_by(Axis((15, 8, -3), (0, 0, 1)))[0], mode=Mode.SUBTRACT)
    add(cut_extrude1_tool2.solids().sort_by(Axis((7, 0, -3), (0, 0, 1)))[0], mode=Mode.SUBTRACT)
    add(cut_extrude1_tool3.solids().sort_by(Axis((15, -8, -3), (0, 0, 1)))[0], mode=Mode.SUBTRACT)
    add(cut_extrude1_tool4.solids().sort_by(Axis((23, 0, -3), (0, 0, 1)))[0], mode=Mode.SUBTRACT)

    # Sketch3 → Cut-Extrude2 (cut)
    with BuildSketch(Plane(origin=(0, 0, -1), x_dir=(-1, 0, 0), z_dir=(0, 0, -1))):
        with BuildLine():
            ThreePointArc((-12.5, -8), (-15, -5.5), (-17.5, -8))
            ThreePointArc((-17.5, -8), (-17.125, -8.375), (-16.75, -8))
            ThreePointArc((-16.75, -8), (-15, -6.25), (-13.25, -8))
            ThreePointArc((-13.25, -8), (-12.875, -8.375), (-12.5, -8))
        make_face()
        with BuildLine():
            ThreePointArc((-23, -1.75), (-21.25, 0), (-23, 1.75))
            ThreePointArc((-23, 1.75), (-23.375, 2.125), (-23, 2.5))
            ThreePointArc((-23, 2.5), (-20.5, 0), (-23, -2.5))
            ThreePointArc((-23, -2.5), (-23.375, -2.125), (-23, -1.75))
        make_face()
        with BuildLine():
            ThreePointArc((-16.75, 8), (-15, 6.25), (-13.25, 8))
            ThreePointArc((-13.25, 8), (-12.875, 8.375), (-12.5, 8))
            ThreePointArc((-12.5, 8), (-15, 5.5), (-17.5, 8))
            ThreePointArc((-17.5, 8), (-17.125, 8.375), (-16.75, 8))
        make_face()
        with BuildLine():
            ThreePointArc((-7, 1.75), (-8.75, 0), (-7, -1.75))
            ThreePointArc((-7, -1.75), (-6.625, -2.125), (-7, -2.5))
            ThreePointArc((-7, -2.5), (-9.5, 0), (-7, 2.5))
            ThreePointArc((-7, 2.5), (-6.625, 2.125), (-7, 1.75))
        make_face()
    extrude(amount=-CUT_EXTRUDE2_DEPTH, mode=Mode.SUBTRACT)

    # Sketch4 → Cut-Extrude3 (cut)
    with BuildSketch(Plane(origin=(0, 0, -3), x_dir=(-1, 0, 0), z_dir=(0, 0, -1))):
        with Locations((-15, 0)):
            Circle(SKETCH4_R)
    extrude(amount=-CUT_EXTRUDE3_DEPTH, mode=Mode.SUBTRACT)


solid = part.part
